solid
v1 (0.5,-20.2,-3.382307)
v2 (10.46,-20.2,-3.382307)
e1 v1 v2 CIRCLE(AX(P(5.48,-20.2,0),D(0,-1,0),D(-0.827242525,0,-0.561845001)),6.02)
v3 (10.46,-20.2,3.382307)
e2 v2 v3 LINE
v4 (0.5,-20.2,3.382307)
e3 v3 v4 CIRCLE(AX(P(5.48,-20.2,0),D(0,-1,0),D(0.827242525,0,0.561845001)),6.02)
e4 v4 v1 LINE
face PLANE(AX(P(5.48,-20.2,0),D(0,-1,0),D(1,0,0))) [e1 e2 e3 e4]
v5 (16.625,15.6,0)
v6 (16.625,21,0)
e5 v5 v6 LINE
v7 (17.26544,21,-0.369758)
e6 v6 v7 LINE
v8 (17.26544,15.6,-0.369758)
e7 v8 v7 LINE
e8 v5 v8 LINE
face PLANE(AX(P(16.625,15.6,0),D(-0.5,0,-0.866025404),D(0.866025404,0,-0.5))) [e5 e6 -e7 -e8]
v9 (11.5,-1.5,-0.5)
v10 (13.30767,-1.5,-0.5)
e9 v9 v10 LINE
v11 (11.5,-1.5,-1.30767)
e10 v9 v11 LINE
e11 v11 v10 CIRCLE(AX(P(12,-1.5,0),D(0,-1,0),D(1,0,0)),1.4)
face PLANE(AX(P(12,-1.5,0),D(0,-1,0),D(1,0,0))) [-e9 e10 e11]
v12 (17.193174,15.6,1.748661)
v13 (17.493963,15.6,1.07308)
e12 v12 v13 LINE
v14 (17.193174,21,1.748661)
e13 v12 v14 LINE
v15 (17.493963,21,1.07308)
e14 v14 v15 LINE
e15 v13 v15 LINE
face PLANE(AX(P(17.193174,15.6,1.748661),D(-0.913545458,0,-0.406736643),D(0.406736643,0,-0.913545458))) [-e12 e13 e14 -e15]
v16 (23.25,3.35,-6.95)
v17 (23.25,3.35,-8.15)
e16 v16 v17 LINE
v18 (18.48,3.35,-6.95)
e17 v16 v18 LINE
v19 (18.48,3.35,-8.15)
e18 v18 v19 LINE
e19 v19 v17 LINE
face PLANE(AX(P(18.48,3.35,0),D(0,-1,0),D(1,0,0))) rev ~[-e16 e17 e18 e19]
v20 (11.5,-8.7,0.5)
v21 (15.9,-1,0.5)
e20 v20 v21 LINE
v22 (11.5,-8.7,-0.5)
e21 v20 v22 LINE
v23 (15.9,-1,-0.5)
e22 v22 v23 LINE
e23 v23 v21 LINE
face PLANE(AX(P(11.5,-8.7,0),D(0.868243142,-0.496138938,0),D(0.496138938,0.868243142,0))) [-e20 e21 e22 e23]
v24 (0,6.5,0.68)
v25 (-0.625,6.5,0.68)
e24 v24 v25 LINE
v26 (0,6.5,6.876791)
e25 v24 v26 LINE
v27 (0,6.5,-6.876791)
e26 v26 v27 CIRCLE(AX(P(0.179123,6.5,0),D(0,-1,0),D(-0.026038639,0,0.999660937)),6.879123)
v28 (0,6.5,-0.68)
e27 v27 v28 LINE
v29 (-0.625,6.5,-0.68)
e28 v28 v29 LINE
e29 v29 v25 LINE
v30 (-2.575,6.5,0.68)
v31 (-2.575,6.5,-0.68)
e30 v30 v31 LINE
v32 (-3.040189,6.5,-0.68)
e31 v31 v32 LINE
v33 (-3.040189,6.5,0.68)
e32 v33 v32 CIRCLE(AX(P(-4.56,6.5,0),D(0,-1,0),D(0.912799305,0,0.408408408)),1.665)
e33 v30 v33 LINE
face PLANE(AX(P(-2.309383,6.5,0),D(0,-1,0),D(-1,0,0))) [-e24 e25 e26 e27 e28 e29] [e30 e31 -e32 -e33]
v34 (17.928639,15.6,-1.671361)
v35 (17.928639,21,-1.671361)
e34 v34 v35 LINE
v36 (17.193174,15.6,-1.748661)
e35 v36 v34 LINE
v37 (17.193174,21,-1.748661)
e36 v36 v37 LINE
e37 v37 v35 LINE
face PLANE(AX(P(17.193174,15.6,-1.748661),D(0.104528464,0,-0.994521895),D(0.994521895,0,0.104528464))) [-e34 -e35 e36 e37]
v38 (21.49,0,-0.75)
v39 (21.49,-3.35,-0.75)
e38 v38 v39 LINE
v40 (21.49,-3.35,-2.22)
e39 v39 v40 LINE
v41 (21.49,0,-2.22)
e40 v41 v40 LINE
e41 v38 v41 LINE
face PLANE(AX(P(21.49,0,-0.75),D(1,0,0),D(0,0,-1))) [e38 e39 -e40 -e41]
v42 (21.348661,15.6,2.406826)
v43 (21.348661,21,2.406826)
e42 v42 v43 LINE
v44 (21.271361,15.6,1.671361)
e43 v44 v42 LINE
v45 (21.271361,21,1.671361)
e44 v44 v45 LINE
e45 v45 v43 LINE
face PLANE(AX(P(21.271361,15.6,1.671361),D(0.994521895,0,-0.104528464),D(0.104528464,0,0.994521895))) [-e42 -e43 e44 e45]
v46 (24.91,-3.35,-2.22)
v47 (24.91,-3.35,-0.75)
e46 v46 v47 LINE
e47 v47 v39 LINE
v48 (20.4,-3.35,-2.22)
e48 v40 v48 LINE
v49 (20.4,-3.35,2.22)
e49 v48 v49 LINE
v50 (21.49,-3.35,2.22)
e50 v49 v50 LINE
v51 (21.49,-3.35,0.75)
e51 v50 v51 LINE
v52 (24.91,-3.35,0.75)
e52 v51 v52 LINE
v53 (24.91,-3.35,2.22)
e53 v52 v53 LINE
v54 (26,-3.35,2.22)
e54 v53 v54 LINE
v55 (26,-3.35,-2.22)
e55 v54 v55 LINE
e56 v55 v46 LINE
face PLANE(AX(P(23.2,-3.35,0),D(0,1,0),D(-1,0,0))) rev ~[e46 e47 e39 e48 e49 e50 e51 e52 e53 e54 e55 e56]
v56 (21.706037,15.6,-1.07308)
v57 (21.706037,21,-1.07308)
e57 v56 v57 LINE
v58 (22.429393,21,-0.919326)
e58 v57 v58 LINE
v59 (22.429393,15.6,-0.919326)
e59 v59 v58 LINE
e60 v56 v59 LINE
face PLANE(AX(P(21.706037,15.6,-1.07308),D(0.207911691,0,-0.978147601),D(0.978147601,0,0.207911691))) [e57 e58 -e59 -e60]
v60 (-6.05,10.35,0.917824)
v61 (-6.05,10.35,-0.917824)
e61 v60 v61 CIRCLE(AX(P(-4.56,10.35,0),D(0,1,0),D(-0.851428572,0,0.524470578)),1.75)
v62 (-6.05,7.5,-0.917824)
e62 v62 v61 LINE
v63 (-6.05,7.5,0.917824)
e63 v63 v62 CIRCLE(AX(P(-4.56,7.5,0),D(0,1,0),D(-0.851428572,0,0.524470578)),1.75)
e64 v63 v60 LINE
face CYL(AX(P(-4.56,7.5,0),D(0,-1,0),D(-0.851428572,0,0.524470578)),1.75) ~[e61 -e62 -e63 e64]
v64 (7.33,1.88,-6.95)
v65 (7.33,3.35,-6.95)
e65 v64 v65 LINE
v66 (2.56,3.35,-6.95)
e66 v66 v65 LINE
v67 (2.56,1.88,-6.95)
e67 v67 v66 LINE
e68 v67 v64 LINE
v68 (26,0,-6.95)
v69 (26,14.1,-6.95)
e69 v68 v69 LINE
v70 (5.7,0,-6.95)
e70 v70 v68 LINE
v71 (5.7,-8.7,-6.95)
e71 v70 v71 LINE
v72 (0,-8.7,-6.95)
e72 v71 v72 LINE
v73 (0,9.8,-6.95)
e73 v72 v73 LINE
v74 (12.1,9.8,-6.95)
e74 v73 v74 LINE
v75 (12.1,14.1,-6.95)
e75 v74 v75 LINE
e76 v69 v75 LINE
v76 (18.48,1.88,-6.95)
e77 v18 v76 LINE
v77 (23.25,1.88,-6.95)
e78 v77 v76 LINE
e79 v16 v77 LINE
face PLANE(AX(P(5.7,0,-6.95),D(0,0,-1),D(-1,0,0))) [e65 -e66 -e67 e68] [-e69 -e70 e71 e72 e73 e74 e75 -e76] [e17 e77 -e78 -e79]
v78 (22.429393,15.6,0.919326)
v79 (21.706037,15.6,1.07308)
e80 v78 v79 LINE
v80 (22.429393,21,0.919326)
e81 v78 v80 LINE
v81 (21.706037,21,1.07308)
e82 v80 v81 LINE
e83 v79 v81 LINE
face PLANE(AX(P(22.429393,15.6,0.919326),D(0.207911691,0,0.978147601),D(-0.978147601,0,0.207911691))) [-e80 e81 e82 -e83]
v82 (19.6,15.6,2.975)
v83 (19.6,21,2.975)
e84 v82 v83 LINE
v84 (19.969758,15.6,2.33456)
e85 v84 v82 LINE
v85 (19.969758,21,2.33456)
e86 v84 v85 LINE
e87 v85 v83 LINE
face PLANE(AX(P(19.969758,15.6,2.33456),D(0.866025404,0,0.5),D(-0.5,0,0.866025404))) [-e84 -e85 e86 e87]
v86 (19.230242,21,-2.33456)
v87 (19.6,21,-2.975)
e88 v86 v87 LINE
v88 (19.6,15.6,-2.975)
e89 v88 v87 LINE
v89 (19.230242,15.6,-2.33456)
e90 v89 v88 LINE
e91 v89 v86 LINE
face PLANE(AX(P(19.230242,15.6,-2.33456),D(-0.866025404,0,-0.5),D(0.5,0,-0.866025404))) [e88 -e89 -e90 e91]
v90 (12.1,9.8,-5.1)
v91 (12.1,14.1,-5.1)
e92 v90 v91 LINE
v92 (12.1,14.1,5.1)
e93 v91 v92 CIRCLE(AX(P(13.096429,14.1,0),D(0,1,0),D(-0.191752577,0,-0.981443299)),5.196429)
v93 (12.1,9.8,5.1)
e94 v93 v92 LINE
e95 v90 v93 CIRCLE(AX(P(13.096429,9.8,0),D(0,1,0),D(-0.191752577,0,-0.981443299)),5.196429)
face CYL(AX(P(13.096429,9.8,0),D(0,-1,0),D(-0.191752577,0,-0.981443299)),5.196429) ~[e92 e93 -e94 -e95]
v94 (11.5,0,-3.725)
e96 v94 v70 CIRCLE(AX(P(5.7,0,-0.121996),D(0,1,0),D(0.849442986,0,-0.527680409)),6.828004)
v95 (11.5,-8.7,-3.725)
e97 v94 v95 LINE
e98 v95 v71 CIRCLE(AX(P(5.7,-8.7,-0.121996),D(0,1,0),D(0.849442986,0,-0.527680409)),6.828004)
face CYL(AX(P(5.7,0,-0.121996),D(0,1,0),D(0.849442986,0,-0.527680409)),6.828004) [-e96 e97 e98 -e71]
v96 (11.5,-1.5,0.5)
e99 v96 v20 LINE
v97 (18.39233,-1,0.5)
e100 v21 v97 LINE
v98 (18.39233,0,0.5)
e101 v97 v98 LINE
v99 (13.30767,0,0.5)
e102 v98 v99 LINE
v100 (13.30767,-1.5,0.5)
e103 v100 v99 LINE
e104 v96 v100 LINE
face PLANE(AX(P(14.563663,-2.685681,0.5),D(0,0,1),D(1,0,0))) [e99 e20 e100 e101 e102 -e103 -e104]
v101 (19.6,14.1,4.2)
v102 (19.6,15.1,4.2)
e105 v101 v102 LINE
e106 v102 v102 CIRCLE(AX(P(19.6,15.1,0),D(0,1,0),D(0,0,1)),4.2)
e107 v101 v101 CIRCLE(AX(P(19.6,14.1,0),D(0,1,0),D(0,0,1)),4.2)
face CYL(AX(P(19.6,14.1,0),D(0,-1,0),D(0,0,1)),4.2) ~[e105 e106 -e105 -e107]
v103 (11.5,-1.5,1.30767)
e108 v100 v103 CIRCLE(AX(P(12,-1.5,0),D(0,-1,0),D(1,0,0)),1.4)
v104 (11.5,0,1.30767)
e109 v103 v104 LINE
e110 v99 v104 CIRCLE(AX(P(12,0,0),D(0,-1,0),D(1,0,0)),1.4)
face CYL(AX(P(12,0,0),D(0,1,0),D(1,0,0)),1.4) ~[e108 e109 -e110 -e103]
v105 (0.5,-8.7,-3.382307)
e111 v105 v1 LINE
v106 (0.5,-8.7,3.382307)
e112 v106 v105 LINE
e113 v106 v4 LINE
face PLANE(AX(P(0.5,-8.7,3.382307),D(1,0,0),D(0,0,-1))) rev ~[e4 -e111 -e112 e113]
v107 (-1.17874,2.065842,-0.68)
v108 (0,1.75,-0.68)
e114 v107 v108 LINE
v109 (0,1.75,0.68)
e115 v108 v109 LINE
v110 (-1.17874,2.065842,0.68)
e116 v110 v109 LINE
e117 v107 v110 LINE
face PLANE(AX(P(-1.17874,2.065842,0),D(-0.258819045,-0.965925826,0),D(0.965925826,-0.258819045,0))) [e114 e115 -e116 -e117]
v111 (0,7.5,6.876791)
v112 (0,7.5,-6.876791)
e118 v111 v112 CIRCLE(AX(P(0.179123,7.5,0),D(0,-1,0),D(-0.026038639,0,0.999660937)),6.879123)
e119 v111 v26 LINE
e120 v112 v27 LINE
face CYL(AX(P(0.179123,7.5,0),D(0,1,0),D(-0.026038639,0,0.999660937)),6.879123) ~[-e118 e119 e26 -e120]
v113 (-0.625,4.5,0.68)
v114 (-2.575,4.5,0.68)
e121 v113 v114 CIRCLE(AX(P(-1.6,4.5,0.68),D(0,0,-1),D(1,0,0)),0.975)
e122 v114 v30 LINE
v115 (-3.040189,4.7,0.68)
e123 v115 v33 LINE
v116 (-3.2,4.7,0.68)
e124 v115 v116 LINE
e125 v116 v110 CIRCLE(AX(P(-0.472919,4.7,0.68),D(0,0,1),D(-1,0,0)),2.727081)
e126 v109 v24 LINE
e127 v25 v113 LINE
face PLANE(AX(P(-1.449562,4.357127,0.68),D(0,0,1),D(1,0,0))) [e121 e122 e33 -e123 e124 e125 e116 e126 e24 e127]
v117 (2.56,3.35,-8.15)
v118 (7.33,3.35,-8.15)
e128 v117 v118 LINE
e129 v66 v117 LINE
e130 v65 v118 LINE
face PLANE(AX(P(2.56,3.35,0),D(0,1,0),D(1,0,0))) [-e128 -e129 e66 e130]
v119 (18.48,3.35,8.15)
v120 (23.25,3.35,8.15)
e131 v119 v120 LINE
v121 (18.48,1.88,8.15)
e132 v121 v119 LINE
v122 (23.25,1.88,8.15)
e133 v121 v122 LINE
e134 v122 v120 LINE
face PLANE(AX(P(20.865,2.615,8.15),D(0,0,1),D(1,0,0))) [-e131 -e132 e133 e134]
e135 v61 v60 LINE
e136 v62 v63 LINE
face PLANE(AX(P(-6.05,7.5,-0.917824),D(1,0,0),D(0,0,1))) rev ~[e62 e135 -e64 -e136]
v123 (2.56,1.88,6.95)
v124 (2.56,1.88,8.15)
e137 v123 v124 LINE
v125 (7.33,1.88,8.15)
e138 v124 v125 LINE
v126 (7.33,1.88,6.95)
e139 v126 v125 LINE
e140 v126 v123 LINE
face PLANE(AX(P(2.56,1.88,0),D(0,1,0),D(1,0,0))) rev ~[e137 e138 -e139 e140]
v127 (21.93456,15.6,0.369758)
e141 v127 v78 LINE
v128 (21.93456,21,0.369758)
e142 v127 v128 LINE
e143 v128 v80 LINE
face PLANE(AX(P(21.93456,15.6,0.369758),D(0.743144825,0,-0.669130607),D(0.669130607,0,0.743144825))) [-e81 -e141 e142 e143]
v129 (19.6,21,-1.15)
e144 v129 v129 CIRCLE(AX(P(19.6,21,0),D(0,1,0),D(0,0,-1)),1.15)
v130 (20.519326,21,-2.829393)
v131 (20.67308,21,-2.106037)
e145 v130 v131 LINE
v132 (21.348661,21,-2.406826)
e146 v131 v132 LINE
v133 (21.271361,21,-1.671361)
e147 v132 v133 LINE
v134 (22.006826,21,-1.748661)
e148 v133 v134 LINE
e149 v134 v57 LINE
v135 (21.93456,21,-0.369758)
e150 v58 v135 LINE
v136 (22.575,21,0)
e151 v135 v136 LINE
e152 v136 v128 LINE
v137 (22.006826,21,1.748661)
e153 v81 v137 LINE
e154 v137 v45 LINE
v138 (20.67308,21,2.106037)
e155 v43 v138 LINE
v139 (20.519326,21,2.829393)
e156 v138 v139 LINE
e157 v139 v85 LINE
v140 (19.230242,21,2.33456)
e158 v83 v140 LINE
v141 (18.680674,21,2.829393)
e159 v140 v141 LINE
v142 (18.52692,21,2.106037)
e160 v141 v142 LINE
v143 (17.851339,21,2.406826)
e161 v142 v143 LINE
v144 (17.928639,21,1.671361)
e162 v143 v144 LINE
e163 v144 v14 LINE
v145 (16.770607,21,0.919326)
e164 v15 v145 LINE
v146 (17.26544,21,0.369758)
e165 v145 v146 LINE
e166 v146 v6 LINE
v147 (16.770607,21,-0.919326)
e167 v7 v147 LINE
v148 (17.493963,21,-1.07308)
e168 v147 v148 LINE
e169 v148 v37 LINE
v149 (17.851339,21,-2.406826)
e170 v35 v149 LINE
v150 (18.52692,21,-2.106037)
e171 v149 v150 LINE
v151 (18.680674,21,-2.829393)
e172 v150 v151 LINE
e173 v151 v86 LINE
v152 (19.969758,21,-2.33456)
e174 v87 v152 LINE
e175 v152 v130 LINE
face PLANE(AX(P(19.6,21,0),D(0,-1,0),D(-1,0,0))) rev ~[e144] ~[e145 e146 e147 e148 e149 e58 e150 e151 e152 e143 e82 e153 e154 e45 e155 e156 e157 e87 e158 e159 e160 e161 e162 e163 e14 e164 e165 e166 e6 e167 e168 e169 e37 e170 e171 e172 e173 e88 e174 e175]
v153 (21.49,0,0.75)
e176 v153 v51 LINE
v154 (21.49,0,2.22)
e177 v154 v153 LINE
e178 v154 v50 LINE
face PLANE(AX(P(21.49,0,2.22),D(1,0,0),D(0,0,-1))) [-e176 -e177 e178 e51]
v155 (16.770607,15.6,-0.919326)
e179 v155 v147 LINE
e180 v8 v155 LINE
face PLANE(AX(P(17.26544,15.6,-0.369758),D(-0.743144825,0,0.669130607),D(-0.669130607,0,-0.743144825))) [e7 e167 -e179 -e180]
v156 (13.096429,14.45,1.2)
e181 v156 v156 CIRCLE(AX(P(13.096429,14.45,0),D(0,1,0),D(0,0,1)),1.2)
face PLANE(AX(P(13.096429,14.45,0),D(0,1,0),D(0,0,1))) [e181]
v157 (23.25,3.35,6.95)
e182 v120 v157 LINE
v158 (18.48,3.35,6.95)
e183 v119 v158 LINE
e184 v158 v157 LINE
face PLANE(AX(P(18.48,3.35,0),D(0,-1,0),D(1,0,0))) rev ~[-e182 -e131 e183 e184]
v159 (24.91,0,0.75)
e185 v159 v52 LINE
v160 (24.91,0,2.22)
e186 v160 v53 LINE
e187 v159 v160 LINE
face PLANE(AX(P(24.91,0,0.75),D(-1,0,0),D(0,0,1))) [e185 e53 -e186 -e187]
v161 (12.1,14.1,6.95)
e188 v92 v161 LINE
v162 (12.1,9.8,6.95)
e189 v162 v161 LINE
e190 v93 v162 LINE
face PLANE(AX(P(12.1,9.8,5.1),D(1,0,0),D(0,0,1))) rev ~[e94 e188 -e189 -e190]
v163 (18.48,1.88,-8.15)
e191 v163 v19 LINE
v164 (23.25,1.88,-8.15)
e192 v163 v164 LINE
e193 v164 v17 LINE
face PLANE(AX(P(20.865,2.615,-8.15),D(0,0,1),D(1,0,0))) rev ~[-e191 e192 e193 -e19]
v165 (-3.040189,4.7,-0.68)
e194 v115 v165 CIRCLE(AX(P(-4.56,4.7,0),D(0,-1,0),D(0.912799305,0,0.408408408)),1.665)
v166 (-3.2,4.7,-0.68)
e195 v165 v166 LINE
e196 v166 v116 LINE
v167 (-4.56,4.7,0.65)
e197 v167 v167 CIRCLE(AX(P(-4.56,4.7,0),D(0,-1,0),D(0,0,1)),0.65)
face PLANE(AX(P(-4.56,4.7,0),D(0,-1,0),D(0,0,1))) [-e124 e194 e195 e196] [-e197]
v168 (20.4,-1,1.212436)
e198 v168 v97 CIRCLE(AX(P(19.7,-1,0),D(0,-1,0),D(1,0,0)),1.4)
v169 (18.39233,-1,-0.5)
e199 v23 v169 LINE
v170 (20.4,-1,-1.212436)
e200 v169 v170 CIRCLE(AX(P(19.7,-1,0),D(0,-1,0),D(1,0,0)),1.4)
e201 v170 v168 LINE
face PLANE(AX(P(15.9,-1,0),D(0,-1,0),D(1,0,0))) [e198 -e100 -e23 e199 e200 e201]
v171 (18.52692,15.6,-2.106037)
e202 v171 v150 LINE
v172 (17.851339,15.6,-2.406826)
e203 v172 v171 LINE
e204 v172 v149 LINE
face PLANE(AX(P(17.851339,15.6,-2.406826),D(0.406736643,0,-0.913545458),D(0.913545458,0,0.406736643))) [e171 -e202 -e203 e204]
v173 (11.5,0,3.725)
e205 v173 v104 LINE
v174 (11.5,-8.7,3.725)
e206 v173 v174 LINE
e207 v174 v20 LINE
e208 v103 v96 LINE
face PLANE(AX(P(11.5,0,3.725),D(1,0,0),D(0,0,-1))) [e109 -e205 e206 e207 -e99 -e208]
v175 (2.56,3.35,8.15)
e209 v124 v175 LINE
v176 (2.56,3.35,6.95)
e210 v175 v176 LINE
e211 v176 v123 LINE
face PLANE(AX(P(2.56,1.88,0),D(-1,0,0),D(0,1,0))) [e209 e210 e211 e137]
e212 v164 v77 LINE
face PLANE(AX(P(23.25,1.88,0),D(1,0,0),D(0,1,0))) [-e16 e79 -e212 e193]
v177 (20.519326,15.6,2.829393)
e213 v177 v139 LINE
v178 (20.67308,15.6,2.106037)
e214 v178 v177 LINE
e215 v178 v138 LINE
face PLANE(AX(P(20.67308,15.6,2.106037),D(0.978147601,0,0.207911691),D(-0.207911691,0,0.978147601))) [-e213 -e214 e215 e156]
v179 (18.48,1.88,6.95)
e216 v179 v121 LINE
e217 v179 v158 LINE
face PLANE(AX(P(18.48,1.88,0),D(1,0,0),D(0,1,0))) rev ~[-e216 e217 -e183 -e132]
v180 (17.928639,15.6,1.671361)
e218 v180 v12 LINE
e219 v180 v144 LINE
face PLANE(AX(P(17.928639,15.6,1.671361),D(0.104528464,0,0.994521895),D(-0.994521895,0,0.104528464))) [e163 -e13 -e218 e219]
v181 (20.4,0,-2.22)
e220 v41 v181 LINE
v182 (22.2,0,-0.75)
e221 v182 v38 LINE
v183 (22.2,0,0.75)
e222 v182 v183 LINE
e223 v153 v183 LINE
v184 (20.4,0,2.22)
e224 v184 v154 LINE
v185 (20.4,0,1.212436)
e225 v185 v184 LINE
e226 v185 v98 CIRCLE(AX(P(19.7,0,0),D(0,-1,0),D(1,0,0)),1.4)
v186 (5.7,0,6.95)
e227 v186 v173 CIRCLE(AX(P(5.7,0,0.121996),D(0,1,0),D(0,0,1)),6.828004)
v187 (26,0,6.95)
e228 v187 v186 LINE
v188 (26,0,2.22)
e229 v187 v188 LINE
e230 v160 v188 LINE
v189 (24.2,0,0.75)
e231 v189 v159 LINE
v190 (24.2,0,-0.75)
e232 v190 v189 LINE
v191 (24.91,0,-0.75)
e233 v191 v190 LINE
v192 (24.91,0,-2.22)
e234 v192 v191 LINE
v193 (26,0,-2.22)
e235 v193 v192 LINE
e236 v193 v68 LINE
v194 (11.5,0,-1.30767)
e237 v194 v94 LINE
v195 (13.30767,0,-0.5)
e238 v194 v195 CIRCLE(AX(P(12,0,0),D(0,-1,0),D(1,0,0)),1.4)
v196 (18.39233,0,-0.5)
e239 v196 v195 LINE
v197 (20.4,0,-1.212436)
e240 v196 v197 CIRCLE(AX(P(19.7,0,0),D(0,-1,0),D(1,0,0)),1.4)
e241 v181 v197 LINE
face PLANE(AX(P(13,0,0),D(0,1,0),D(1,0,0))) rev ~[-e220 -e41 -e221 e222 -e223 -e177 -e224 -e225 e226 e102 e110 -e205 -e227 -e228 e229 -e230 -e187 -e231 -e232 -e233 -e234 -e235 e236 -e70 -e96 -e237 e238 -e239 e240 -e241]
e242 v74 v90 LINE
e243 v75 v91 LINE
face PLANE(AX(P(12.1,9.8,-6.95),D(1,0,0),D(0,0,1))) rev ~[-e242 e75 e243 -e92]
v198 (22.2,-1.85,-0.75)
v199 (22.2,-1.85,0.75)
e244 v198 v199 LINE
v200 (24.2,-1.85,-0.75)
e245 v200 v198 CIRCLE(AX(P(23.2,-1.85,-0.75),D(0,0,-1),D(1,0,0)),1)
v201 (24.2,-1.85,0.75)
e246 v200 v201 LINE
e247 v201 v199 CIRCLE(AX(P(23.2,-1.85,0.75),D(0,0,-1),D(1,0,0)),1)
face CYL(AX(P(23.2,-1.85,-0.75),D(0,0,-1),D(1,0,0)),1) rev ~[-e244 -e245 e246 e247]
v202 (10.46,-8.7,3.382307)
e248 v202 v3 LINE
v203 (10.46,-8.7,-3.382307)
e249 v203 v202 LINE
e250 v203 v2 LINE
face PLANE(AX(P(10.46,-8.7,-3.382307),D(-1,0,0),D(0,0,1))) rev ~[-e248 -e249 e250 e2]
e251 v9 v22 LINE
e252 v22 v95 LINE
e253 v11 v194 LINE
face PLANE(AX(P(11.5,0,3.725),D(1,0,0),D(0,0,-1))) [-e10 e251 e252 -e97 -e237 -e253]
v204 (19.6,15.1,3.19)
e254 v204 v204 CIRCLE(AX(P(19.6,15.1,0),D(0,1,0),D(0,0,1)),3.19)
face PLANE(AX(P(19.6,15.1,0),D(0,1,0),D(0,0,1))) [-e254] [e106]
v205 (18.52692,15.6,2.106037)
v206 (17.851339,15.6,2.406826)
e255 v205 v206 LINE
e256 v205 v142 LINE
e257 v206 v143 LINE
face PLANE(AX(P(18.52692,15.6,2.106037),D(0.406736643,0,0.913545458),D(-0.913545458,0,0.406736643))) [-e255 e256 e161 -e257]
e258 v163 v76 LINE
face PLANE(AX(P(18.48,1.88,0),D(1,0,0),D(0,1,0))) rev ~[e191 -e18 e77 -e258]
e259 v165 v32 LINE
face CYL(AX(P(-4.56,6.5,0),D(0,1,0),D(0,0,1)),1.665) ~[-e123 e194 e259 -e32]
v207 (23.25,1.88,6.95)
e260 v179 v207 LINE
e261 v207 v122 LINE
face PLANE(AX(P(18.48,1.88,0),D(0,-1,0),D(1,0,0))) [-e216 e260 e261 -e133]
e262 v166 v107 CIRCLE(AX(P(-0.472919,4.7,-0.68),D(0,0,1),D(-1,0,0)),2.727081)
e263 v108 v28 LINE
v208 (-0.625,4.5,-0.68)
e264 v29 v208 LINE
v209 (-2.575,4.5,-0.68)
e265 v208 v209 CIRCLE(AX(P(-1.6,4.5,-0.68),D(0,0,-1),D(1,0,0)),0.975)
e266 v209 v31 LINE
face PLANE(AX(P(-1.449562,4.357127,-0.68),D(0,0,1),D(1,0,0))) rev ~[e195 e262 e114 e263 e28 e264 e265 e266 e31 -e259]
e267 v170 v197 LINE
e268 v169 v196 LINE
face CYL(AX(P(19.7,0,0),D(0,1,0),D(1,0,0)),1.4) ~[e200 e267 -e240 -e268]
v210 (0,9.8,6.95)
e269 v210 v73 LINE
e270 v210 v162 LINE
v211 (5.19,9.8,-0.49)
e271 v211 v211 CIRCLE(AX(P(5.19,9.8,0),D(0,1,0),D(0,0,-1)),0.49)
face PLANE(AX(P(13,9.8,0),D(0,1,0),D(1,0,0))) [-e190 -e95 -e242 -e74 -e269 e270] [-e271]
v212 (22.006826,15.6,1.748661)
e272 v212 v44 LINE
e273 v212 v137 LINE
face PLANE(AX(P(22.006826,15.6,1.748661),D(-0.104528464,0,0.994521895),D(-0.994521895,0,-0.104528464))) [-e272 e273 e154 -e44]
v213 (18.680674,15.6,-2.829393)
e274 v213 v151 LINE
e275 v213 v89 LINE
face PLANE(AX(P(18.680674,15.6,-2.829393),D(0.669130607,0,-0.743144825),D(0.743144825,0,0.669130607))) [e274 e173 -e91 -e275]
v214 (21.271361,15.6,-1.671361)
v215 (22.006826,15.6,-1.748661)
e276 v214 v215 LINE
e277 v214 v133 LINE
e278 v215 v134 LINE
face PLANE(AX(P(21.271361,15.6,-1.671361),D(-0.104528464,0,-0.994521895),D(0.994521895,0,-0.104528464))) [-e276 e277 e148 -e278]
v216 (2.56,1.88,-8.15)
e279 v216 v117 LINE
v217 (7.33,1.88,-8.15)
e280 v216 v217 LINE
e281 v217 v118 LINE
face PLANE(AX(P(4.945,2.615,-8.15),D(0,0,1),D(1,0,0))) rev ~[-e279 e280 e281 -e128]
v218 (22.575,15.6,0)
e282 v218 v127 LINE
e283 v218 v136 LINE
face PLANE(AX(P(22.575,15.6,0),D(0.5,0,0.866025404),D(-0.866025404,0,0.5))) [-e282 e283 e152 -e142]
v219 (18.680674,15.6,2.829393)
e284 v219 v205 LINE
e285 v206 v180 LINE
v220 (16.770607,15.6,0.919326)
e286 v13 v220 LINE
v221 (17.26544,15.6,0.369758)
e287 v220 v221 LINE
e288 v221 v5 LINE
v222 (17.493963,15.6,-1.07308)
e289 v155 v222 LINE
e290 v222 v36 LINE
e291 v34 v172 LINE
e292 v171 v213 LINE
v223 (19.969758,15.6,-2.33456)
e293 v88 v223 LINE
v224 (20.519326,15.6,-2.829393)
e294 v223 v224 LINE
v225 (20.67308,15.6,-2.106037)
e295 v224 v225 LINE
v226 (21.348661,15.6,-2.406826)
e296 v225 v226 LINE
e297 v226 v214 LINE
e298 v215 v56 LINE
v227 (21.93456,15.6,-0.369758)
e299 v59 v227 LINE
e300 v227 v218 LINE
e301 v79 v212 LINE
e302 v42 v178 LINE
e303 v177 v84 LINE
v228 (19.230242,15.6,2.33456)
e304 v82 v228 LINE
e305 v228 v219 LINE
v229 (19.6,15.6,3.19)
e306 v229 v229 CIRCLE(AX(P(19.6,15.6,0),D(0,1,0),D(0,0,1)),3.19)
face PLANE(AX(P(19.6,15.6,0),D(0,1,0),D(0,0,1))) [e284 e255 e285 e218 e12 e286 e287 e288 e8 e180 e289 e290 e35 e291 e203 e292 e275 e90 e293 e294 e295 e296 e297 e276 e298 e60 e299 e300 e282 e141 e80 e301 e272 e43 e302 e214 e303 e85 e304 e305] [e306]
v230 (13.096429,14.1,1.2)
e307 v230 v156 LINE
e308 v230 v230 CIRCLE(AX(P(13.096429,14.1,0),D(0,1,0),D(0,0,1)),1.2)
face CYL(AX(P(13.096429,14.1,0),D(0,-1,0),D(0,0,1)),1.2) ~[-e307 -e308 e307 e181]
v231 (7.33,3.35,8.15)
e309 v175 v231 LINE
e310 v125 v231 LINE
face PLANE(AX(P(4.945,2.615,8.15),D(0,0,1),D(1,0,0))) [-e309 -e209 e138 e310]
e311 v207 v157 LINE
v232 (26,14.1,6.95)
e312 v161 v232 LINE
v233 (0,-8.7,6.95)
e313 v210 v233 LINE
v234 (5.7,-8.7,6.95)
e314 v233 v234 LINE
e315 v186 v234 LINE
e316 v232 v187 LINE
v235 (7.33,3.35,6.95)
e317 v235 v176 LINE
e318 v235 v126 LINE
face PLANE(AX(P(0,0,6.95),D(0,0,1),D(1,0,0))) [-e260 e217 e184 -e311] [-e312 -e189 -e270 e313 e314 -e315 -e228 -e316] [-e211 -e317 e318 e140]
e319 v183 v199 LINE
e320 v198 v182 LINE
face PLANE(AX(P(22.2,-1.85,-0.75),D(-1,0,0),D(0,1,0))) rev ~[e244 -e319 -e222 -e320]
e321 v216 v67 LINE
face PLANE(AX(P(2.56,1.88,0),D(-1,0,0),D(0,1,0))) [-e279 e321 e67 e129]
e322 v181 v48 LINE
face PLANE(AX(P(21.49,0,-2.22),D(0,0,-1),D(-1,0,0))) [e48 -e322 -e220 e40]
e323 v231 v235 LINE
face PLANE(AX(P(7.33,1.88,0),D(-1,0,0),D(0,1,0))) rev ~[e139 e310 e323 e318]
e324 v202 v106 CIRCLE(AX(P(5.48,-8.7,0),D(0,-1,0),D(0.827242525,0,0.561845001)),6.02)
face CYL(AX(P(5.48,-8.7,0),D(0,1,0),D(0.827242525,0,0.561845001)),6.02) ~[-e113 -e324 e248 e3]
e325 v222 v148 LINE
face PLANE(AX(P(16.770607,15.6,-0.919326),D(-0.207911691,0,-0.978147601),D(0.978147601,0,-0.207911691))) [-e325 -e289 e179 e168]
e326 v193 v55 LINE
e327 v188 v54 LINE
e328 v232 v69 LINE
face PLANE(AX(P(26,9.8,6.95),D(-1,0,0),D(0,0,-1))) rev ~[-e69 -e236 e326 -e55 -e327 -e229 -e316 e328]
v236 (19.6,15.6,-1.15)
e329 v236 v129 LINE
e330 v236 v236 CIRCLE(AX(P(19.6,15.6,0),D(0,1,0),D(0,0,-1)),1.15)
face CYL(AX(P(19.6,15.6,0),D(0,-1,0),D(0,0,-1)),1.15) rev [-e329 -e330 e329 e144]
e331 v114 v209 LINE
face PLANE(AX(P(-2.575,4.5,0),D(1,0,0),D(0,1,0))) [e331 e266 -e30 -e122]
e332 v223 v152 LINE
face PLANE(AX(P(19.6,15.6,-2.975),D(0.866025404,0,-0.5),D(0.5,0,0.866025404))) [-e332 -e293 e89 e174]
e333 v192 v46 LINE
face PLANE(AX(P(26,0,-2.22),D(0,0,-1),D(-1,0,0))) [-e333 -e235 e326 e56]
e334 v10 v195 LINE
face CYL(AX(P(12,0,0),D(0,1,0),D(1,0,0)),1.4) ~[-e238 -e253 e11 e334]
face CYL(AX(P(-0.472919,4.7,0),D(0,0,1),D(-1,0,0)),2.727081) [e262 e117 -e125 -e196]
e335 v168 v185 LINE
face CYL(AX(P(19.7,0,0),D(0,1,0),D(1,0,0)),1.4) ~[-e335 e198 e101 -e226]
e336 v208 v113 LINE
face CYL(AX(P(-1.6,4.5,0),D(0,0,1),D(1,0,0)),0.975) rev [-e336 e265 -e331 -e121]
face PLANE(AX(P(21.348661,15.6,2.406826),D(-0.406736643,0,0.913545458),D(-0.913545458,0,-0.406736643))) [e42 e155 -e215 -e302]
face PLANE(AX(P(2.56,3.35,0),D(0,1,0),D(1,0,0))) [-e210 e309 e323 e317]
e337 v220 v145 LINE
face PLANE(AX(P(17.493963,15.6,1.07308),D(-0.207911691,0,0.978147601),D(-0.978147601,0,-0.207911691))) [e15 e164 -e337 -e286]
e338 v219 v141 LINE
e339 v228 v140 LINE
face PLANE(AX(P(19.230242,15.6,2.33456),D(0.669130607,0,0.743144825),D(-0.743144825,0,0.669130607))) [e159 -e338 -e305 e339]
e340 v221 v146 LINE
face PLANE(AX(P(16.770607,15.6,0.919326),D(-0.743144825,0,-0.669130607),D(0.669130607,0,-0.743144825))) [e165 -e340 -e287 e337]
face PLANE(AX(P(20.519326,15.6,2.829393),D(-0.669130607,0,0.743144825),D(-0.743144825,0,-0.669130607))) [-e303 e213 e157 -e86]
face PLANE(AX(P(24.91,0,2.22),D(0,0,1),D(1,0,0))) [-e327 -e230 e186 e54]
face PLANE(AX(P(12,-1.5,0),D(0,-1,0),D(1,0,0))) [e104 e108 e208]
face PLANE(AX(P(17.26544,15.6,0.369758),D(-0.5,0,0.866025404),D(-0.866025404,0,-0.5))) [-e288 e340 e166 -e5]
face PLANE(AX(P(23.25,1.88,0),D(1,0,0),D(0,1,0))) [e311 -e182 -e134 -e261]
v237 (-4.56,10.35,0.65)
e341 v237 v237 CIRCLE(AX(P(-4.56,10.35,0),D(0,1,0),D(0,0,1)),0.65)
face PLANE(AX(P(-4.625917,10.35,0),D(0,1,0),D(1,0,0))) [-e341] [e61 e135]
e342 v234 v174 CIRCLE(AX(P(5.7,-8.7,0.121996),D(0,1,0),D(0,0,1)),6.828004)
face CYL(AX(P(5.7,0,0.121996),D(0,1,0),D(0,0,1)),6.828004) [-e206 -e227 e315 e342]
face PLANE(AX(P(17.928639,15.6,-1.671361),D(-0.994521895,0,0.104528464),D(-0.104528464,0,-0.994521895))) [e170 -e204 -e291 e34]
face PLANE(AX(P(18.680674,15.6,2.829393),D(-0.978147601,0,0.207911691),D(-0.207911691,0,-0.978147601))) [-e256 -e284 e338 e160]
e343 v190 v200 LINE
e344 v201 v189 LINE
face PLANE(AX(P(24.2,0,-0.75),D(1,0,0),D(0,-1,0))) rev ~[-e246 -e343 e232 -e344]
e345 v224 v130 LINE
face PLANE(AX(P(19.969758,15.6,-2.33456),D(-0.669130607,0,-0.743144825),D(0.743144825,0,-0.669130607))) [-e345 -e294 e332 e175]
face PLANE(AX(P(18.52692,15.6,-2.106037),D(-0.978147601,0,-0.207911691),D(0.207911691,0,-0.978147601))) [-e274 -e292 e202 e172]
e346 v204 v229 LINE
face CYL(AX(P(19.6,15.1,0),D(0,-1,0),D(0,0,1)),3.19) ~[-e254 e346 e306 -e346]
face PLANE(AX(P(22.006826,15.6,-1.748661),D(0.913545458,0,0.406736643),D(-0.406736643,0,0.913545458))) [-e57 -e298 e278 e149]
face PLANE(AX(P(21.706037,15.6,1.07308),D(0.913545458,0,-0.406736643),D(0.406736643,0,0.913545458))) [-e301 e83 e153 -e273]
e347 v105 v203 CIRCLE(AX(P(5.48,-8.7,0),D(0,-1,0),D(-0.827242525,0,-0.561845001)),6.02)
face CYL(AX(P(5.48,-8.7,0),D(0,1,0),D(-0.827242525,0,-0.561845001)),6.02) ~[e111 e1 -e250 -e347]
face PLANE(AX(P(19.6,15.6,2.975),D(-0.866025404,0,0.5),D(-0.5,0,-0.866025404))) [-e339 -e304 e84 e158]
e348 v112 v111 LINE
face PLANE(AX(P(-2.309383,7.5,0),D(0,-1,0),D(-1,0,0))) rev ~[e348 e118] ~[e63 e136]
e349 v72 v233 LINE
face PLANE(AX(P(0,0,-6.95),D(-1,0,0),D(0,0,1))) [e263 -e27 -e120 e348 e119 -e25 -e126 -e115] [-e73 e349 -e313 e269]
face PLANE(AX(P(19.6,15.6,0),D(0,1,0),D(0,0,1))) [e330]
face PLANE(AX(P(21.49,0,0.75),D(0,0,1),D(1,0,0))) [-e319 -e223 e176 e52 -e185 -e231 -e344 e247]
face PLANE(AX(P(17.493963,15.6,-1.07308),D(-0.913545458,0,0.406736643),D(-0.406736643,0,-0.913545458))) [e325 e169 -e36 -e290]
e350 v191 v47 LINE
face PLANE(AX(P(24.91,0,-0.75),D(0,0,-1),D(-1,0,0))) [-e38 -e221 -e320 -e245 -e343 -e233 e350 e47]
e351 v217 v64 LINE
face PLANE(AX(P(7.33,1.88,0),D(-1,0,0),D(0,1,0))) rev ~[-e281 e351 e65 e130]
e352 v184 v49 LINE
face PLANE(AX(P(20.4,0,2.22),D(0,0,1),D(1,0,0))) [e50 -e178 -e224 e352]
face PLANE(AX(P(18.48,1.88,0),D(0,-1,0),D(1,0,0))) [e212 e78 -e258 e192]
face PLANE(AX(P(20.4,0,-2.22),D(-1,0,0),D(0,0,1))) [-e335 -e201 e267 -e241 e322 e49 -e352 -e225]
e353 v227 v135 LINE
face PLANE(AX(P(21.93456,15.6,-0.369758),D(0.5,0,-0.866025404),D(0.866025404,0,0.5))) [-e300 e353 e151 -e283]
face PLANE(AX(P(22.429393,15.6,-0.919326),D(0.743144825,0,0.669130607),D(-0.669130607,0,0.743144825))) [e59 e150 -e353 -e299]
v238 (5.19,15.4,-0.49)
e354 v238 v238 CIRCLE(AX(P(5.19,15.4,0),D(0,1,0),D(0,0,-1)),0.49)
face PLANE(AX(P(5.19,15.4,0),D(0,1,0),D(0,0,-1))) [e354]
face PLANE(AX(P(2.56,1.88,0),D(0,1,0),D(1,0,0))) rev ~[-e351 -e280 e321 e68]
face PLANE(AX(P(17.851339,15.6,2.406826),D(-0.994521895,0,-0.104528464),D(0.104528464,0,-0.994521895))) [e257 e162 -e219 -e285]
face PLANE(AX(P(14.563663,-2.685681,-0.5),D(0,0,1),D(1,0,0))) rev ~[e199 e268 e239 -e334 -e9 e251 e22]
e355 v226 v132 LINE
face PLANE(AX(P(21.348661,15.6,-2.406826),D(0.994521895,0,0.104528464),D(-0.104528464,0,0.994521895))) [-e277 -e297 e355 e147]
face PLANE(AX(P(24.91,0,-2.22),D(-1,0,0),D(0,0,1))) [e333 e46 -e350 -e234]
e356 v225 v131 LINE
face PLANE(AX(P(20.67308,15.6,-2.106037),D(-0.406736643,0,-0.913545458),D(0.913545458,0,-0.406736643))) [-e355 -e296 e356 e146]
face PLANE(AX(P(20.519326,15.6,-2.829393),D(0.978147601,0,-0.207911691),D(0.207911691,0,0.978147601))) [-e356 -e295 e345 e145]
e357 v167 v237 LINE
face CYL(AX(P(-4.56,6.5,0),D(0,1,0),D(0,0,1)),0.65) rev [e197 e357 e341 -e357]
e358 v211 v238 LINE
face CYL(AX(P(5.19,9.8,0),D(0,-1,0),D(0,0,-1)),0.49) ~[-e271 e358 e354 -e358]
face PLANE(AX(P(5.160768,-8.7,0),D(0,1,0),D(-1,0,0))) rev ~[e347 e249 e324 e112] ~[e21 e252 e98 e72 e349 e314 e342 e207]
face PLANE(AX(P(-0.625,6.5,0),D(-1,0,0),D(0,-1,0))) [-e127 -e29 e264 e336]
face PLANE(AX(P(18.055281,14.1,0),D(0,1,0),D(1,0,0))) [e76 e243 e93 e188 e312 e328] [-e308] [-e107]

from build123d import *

# Parameters (mm, degrees)
SKETCH1_W            = 26
SKETCH1_H            = 13.9
BOSS_EXTRUDE1_DEPTH  = 9.8
BOSS_EXTRUDE2_DEPTH  = 4.3
SKETCH4_R            = 4.2
BOSS_EXTRUDE3_DEPTH  = 1
SKETCH5_R            = 3.19
BOSS_EXTRUDE4_DEPTH  = 0.5
SKETCH6_R            = 1.15
BOSS_EXTRUDE5_DEPTH  = 5.4
SKETCH7_R            = 0.49
BOSS_EXTRUDE6_DEPTH  = 5.6
BOSS_EXTRUDE7_DEPTH  = 8.7
BOSS_EXTRUDE8_DEPTH  = 11.5
BOSS_EXTRUDE9_DEPTH  = 3.35
CUT_EXTRUDE1_DEPTH   = 35.297084424
BOSS_EXTRUDE10_START = -2.3
BOSS_EXTRUDE10_DEPTH = 1
BOSS_EXTRUDE11_DEPTH = 2.85
SKETCH15_R           = 0.65
CUT_EXTRUDE2_DEPTH   = 41.713695484
SKETCH14_R           = 1.665
SKETCH14_R_2         = 0.65
BOSS_EXTRUDE12_DEPTH = 1.8
BOSS_EXTRUDE13_DEPTH = 0.68
BOSS_EXTRUDE14_DEPTH = 0.5
SKETCH18_R           = 1.2
BOSS_EXTRUDE15_DEPTH = 0.35
SKETCH20_W           = 4.77
SKETCH20_H           = 1.47
BOSS_EXTRUDE16_DEPTH = 8.15
SKETCH21_R           = 1.4
BOSS_EXTRUDE17_DEPTH = 1
BOSS_EXTRUDE18_START = -1
SKETCH22_R           = 1.4
BOSS_EXTRUDE18_DEPTH = 1.5


with BuildPart() as part:
    # Sketch1 → Boss-Extrude1 (new body)
    with BuildSketch(Plane(origin=(0, 0, 0), x_dir=(1, 0, 0), z_dir=(0, 1, 0))):
        with Locations((13, 0)):
            Rectangle(SKETCH1_W, SKETCH1_H)
    extrude(amount=BOSS_EXTRUDE1_DEPTH)

    # Sketch2 → Boss-Extrude2 (add)
    with BuildSketch(Plane(origin=(0, 9.8, 0), x_dir=(1, 0, 0), z_dir=(0, 1, 0))):
        with BuildLine():
            Line((26, -6.95), (26, 6.95))
            Line((26, 6.95), (12.1, 6.95))
            Line((12.1, 6.95), (12.1, 5.1))
            ThreePointArc((12.1, 5.1), (7.9, 0), (12.1, -5.1))
            Line((12.1, -5.1), (12.1, -6.95))
            Line((12.1, -6.95), (26, -6.95))
        make_face()
    extrude(amount=BOSS_EXTRUDE2_DEPTH)

    # Sketch4 → Boss-Extrude3 (add)
    with BuildSketch(Plane(origin=(0, 14.1, 0), x_dir=(1, 0, 0), z_dir=(0, 1, 0))):
        with Locations(Location((19.6, 0, 0), (0, 0, 270))):
            Circle(SKETCH4_R)
    extrude(amount=BOSS_EXTRUDE3_DEPTH)

    # Sketch5 → Boss-Extrude4 (add)
    with BuildSketch(Plane(origin=(0, 15.1, 0), x_dir=(1, 0, 0), z_dir=(0, 1, 0))):
        with Locations(Location((19.6, 0, 0), (0, 0, 270))):
            Circle(SKETCH5_R)
    extrude(amount=BOSS_EXTRUDE4_DEPTH)

    # Sketch6 → Boss-Extrude5 (add)
    with BuildSketch(Plane(origin=(0, 15.6, 0), x_dir=(1, 0, 0), z_dir=(0, 1, 0))):
        Polygon((18.680674442, 2.829393136), (19.230241972, 2.334560309), (19.6, 2.975), (19.969758028, 2.334560309), (20.519325558, 2.829393136), (20.673079592, 2.10603728), (21.348661126, 2.406825558), (21.271360649, 1.671360649), (22.006825558, 1.748661126), (21.70603728, 1.073079592), (22.429393136, 0.919325558), (21.934560309, 0.369758028), (22.575, 0), (21.934560309, -0.369758028), (22.429393136, -0.919325558), (21.70603728, -1.073079592), (22.006825558, -1.748661126), (21.271360649, -1.671360649), (21.348661126, -2.406825558), (20.673079592, -2.10603728), (20.519325558, -2.829393136), (19.969758028, -2.334560309), (19.6, -2.975), (19.230241972, -2.334560309), (18.680674442, -2.829393136), (18.526920408, -2.10603728), (17.851338874, -2.406825558), (17.928639351, -1.671360649), (17.193174442, -1.748661126), (17.49396272, -1.073079592), (16.770606864, -0.919325558), (17.265439691, -0.369758028), (16.625, 0), (17.265439691, 0.369758028), (16.770606864, 0.919325558), (17.49396272, 1.073079592), (17.193174442, 1.748661126), (17.928639351, 1.671360649), (17.851338874, 2.406825558), (18.526920408, 2.10603728), align=None)
        with Locations(Location((19.6, 0, 0), (0, 0, 90))):
            Circle(SKETCH6_R, mode=Mode.SUBTRACT)
    extrude(amount=BOSS_EXTRUDE5_DEPTH)

    # Sketch7 → Boss-Extrude6 (add)
    with BuildSketch(Plane(origin=(0, 9.8, 0), x_dir=(1, 0, 0), z_dir=(0, 1, 0))):
        with Locations(Location((5.19, 0, 0), (0, 0, 90))):
            Circle(SKETCH7_R)
    extrude(amount=BOSS_EXTRUDE6_DEPTH)

    # Sketch8 → Boss-Extrude7 (add)
    with BuildSketch(Plane.XZ):
        with BuildLine():
            Line((11.5, 3.725), (11.5, -3.725))
            ThreePointArc((11.5, -3.725), (9.018155549, -6.089531686), (5.7, -6.95))
            Line((5.7, -6.95), (0, -6.95))
            Line((0, -6.95), (0, 6.95))
            Line((0, 6.95), (5.7, 6.95))
            ThreePointArc((5.7, 6.95), (9.018155549, 6.089531686), (11.5, 3.725))
        make_face()
    extrude(amount=BOSS_EXTRUDE7_DEPTH)

    # Sketch9 → Boss-Extrude8 (add)
    with BuildSketch(Plane.XZ.offset(8.7)):
        with BuildLine():
            Line((0.5, 3.382306905), (0.5, -3.382306905))
            ThreePointArc((0.5, -3.382306905), (5.48, -6.02), (10.46, -3.382306905))
            Line((10.46, -3.382306905), (10.46, 3.382306905))
            ThreePointArc((10.46, 3.382306905), (5.48, 6.02), (0.5, 3.382306905))
        make_face()
    extrude(amount=BOSS_EXTRUDE8_DEPTH)

    # Sketch10 → Boss-Extrude9 (add)
    with BuildSketch(Plane.XZ):
        Polygon((26, 2.22), (26, -2.22), (24.91, -2.22), (24.91, -0.75), (21.49, -0.75), (21.49, -2.22), (20.4, -2.22), (20.4, 2.22), (21.49, 2.22), (21.49, 0.75), (24.91, 0.75), (24.91, 2.22), align=None)
    extrude(amount=BOSS_EXTRUDE9_DEPTH)

    # Sketch11 → Cut-Extrude1 (cut, through all)
    with BuildSketch(Plane(origin=(0, 0, -0.75), x_dir=(-1, 0, 0), z_dir=(0, 0, -1))):
        with BuildLine():
            Line((-24.2, 0), (-24.2, -1.85))
            ThreePointArc((-24.2, -1.85), (-23.2, -2.85), (-22.2, -1.85))
            Line((-22.2, -1.85), (-22.2, 0))
            Line((-22.2, 0), (-24.2, 0))
        make_face()
    extrude(amount=-CUT_EXTRUDE1_DEPTH, mode=Mode.SUBTRACT)

    # Sketch12 → Boss-Extrude10 (add)
    with BuildSketch(Plane(origin=(0, 9.8, 0), x_dir=(1, 0, 0), z_dir=(0, 1, 0)).offset(BOSS_EXTRUDE10_START)):
        with BuildLine():
            Line((0, 6.876790543), (0, -6.876790543))
            ThreePointArc((0, -6.876790543), (-6.7, 0), (0, 6.876790543))
        make_face()
    extrude(amount=-BOSS_EXTRUDE10_DEPTH)

    # Sketch13 → Boss-Extrude11 (add)
    with BuildSketch(Plane(origin=(0, 7.5, 0), x_dir=(1, 0, 0), z_dir=(0, 1, 0))):
        with BuildLine():
            Line((-6.05, 0.917823512), (-6.05, -0.917823512))
            ThreePointArc((-6.05, -0.917823512), (-2.81, 0), (-6.05, 0.917823512))
        make_face()
    extrude(amount=BOSS_EXTRUDE11_DEPTH)

    # Sketch15 → Cut-Extrude2 (cut, through all)
    with BuildSketch(Plane(origin=(0, 10.35, 0), x_dir=(1, 0, 0), z_dir=(0, 1, 0))):
        with Locations(Location((-4.56, 0, 0), (0, 0, 270))):
            Circle(SKETCH15_R)
    extrude(amount=-CUT_EXTRUDE2_DEPTH, mode=Mode.SUBTRACT)

    # Sketch14 → Boss-Extrude12 (add)
    with BuildSketch(Plane.XZ.offset(-6.5)):
        with Locations(Location((-4.56, 0, 0), (0, 0, 90))):
            Circle(SKETCH14_R)
        with Locations(Location((-4.56, 0, 0), (0, 0, 90))):
            Circle(SKETCH14_R_2, mode=Mode.SUBTRACT)
    extrude(amount=BOSS_EXTRUDE12_DEPTH)

    # Sketch16 → Boss-Extrude13 (add, symmetric)
    with BuildSketch(Plane.XY):
        with BuildLine():
            Line((-3.2, 6.5), (-3.2, 4.7))
            ThreePointArc((-3.2, 4.7), (-2.636457892, 3.039858484), (-1.178739757, 2.065842366))
            Line((-1.178739757, 2.065842366), (0, 1.75))
            Line((0, 1.75), (0, 6.5))
            Line((0, 6.5), (-0.625, 6.5))
            Line((-0.625, 6.5), (-0.625, 4.5))
            ThreePointArc((-0.625, 4.5), (-1.6, 3.525), (-2.575, 4.5))
            Line((-2.575, 4.5), (-2.575, 6.5))
            Line((-2.575, 6.5), (-3.2, 6.5))
        make_face()
    extrude(amount=BOSS_EXTRUDE13_DEPTH, both=True)

    # Sketch17 → Boss-Extrude14 (add, symmetric)
    with BuildSketch(Plane.XY):
        Polygon((11.5, -8.7), (15.9, -1), (20.4, -1), (20.4, 0), (11.5, 0), align=None)
    extrude(amount=BOSS_EXTRUDE14_DEPTH, both=True)

    # Sketch18 → Boss-Extrude15 (add)
    with BuildSketch(Plane(origin=(0, 14.1, 0), x_dir=(1, 0, 0), z_dir=(0, 1, 0))):
        with Locations(Location((13.096428571, 0, 0), (0, 0, 270))):
            Circle(SKETCH18_R)
    extrude(amount=BOSS_EXTRUDE15_DEPTH)

    # Sketch20 → Boss-Extrude16 (add, symmetric)
    with BuildSketch(Plane.XY):
        with Locations((4.945, 2.615)):
            Rectangle(SKETCH20_W, SKETCH20_H)
        with Locations((20.865, 2.615)):
            Rectangle(SKETCH20_W, SKETCH20_H)
    extrude(amount=BOSS_EXTRUDE16_DEPTH, both=True)

    # Sketch21 → Boss-Extrude17 (add)
    with BuildSketch(Plane.XZ):
        with Locations((19.7, 0)):
            Circle(SKETCH21_R)
    extrude(amount=BOSS_EXTRUDE17_DEPTH)

    # Sketch22 → Boss-Extrude18 (add)
    with BuildSketch(Plane.XZ.offset(1).offset(BOSS_EXTRUDE18_START)):
        with Locations((12, 0)):
            Circle(SKETCH22_R)
    extrude(amount=BOSS_EXTRUDE18_DEPTH)


solid = part.part
